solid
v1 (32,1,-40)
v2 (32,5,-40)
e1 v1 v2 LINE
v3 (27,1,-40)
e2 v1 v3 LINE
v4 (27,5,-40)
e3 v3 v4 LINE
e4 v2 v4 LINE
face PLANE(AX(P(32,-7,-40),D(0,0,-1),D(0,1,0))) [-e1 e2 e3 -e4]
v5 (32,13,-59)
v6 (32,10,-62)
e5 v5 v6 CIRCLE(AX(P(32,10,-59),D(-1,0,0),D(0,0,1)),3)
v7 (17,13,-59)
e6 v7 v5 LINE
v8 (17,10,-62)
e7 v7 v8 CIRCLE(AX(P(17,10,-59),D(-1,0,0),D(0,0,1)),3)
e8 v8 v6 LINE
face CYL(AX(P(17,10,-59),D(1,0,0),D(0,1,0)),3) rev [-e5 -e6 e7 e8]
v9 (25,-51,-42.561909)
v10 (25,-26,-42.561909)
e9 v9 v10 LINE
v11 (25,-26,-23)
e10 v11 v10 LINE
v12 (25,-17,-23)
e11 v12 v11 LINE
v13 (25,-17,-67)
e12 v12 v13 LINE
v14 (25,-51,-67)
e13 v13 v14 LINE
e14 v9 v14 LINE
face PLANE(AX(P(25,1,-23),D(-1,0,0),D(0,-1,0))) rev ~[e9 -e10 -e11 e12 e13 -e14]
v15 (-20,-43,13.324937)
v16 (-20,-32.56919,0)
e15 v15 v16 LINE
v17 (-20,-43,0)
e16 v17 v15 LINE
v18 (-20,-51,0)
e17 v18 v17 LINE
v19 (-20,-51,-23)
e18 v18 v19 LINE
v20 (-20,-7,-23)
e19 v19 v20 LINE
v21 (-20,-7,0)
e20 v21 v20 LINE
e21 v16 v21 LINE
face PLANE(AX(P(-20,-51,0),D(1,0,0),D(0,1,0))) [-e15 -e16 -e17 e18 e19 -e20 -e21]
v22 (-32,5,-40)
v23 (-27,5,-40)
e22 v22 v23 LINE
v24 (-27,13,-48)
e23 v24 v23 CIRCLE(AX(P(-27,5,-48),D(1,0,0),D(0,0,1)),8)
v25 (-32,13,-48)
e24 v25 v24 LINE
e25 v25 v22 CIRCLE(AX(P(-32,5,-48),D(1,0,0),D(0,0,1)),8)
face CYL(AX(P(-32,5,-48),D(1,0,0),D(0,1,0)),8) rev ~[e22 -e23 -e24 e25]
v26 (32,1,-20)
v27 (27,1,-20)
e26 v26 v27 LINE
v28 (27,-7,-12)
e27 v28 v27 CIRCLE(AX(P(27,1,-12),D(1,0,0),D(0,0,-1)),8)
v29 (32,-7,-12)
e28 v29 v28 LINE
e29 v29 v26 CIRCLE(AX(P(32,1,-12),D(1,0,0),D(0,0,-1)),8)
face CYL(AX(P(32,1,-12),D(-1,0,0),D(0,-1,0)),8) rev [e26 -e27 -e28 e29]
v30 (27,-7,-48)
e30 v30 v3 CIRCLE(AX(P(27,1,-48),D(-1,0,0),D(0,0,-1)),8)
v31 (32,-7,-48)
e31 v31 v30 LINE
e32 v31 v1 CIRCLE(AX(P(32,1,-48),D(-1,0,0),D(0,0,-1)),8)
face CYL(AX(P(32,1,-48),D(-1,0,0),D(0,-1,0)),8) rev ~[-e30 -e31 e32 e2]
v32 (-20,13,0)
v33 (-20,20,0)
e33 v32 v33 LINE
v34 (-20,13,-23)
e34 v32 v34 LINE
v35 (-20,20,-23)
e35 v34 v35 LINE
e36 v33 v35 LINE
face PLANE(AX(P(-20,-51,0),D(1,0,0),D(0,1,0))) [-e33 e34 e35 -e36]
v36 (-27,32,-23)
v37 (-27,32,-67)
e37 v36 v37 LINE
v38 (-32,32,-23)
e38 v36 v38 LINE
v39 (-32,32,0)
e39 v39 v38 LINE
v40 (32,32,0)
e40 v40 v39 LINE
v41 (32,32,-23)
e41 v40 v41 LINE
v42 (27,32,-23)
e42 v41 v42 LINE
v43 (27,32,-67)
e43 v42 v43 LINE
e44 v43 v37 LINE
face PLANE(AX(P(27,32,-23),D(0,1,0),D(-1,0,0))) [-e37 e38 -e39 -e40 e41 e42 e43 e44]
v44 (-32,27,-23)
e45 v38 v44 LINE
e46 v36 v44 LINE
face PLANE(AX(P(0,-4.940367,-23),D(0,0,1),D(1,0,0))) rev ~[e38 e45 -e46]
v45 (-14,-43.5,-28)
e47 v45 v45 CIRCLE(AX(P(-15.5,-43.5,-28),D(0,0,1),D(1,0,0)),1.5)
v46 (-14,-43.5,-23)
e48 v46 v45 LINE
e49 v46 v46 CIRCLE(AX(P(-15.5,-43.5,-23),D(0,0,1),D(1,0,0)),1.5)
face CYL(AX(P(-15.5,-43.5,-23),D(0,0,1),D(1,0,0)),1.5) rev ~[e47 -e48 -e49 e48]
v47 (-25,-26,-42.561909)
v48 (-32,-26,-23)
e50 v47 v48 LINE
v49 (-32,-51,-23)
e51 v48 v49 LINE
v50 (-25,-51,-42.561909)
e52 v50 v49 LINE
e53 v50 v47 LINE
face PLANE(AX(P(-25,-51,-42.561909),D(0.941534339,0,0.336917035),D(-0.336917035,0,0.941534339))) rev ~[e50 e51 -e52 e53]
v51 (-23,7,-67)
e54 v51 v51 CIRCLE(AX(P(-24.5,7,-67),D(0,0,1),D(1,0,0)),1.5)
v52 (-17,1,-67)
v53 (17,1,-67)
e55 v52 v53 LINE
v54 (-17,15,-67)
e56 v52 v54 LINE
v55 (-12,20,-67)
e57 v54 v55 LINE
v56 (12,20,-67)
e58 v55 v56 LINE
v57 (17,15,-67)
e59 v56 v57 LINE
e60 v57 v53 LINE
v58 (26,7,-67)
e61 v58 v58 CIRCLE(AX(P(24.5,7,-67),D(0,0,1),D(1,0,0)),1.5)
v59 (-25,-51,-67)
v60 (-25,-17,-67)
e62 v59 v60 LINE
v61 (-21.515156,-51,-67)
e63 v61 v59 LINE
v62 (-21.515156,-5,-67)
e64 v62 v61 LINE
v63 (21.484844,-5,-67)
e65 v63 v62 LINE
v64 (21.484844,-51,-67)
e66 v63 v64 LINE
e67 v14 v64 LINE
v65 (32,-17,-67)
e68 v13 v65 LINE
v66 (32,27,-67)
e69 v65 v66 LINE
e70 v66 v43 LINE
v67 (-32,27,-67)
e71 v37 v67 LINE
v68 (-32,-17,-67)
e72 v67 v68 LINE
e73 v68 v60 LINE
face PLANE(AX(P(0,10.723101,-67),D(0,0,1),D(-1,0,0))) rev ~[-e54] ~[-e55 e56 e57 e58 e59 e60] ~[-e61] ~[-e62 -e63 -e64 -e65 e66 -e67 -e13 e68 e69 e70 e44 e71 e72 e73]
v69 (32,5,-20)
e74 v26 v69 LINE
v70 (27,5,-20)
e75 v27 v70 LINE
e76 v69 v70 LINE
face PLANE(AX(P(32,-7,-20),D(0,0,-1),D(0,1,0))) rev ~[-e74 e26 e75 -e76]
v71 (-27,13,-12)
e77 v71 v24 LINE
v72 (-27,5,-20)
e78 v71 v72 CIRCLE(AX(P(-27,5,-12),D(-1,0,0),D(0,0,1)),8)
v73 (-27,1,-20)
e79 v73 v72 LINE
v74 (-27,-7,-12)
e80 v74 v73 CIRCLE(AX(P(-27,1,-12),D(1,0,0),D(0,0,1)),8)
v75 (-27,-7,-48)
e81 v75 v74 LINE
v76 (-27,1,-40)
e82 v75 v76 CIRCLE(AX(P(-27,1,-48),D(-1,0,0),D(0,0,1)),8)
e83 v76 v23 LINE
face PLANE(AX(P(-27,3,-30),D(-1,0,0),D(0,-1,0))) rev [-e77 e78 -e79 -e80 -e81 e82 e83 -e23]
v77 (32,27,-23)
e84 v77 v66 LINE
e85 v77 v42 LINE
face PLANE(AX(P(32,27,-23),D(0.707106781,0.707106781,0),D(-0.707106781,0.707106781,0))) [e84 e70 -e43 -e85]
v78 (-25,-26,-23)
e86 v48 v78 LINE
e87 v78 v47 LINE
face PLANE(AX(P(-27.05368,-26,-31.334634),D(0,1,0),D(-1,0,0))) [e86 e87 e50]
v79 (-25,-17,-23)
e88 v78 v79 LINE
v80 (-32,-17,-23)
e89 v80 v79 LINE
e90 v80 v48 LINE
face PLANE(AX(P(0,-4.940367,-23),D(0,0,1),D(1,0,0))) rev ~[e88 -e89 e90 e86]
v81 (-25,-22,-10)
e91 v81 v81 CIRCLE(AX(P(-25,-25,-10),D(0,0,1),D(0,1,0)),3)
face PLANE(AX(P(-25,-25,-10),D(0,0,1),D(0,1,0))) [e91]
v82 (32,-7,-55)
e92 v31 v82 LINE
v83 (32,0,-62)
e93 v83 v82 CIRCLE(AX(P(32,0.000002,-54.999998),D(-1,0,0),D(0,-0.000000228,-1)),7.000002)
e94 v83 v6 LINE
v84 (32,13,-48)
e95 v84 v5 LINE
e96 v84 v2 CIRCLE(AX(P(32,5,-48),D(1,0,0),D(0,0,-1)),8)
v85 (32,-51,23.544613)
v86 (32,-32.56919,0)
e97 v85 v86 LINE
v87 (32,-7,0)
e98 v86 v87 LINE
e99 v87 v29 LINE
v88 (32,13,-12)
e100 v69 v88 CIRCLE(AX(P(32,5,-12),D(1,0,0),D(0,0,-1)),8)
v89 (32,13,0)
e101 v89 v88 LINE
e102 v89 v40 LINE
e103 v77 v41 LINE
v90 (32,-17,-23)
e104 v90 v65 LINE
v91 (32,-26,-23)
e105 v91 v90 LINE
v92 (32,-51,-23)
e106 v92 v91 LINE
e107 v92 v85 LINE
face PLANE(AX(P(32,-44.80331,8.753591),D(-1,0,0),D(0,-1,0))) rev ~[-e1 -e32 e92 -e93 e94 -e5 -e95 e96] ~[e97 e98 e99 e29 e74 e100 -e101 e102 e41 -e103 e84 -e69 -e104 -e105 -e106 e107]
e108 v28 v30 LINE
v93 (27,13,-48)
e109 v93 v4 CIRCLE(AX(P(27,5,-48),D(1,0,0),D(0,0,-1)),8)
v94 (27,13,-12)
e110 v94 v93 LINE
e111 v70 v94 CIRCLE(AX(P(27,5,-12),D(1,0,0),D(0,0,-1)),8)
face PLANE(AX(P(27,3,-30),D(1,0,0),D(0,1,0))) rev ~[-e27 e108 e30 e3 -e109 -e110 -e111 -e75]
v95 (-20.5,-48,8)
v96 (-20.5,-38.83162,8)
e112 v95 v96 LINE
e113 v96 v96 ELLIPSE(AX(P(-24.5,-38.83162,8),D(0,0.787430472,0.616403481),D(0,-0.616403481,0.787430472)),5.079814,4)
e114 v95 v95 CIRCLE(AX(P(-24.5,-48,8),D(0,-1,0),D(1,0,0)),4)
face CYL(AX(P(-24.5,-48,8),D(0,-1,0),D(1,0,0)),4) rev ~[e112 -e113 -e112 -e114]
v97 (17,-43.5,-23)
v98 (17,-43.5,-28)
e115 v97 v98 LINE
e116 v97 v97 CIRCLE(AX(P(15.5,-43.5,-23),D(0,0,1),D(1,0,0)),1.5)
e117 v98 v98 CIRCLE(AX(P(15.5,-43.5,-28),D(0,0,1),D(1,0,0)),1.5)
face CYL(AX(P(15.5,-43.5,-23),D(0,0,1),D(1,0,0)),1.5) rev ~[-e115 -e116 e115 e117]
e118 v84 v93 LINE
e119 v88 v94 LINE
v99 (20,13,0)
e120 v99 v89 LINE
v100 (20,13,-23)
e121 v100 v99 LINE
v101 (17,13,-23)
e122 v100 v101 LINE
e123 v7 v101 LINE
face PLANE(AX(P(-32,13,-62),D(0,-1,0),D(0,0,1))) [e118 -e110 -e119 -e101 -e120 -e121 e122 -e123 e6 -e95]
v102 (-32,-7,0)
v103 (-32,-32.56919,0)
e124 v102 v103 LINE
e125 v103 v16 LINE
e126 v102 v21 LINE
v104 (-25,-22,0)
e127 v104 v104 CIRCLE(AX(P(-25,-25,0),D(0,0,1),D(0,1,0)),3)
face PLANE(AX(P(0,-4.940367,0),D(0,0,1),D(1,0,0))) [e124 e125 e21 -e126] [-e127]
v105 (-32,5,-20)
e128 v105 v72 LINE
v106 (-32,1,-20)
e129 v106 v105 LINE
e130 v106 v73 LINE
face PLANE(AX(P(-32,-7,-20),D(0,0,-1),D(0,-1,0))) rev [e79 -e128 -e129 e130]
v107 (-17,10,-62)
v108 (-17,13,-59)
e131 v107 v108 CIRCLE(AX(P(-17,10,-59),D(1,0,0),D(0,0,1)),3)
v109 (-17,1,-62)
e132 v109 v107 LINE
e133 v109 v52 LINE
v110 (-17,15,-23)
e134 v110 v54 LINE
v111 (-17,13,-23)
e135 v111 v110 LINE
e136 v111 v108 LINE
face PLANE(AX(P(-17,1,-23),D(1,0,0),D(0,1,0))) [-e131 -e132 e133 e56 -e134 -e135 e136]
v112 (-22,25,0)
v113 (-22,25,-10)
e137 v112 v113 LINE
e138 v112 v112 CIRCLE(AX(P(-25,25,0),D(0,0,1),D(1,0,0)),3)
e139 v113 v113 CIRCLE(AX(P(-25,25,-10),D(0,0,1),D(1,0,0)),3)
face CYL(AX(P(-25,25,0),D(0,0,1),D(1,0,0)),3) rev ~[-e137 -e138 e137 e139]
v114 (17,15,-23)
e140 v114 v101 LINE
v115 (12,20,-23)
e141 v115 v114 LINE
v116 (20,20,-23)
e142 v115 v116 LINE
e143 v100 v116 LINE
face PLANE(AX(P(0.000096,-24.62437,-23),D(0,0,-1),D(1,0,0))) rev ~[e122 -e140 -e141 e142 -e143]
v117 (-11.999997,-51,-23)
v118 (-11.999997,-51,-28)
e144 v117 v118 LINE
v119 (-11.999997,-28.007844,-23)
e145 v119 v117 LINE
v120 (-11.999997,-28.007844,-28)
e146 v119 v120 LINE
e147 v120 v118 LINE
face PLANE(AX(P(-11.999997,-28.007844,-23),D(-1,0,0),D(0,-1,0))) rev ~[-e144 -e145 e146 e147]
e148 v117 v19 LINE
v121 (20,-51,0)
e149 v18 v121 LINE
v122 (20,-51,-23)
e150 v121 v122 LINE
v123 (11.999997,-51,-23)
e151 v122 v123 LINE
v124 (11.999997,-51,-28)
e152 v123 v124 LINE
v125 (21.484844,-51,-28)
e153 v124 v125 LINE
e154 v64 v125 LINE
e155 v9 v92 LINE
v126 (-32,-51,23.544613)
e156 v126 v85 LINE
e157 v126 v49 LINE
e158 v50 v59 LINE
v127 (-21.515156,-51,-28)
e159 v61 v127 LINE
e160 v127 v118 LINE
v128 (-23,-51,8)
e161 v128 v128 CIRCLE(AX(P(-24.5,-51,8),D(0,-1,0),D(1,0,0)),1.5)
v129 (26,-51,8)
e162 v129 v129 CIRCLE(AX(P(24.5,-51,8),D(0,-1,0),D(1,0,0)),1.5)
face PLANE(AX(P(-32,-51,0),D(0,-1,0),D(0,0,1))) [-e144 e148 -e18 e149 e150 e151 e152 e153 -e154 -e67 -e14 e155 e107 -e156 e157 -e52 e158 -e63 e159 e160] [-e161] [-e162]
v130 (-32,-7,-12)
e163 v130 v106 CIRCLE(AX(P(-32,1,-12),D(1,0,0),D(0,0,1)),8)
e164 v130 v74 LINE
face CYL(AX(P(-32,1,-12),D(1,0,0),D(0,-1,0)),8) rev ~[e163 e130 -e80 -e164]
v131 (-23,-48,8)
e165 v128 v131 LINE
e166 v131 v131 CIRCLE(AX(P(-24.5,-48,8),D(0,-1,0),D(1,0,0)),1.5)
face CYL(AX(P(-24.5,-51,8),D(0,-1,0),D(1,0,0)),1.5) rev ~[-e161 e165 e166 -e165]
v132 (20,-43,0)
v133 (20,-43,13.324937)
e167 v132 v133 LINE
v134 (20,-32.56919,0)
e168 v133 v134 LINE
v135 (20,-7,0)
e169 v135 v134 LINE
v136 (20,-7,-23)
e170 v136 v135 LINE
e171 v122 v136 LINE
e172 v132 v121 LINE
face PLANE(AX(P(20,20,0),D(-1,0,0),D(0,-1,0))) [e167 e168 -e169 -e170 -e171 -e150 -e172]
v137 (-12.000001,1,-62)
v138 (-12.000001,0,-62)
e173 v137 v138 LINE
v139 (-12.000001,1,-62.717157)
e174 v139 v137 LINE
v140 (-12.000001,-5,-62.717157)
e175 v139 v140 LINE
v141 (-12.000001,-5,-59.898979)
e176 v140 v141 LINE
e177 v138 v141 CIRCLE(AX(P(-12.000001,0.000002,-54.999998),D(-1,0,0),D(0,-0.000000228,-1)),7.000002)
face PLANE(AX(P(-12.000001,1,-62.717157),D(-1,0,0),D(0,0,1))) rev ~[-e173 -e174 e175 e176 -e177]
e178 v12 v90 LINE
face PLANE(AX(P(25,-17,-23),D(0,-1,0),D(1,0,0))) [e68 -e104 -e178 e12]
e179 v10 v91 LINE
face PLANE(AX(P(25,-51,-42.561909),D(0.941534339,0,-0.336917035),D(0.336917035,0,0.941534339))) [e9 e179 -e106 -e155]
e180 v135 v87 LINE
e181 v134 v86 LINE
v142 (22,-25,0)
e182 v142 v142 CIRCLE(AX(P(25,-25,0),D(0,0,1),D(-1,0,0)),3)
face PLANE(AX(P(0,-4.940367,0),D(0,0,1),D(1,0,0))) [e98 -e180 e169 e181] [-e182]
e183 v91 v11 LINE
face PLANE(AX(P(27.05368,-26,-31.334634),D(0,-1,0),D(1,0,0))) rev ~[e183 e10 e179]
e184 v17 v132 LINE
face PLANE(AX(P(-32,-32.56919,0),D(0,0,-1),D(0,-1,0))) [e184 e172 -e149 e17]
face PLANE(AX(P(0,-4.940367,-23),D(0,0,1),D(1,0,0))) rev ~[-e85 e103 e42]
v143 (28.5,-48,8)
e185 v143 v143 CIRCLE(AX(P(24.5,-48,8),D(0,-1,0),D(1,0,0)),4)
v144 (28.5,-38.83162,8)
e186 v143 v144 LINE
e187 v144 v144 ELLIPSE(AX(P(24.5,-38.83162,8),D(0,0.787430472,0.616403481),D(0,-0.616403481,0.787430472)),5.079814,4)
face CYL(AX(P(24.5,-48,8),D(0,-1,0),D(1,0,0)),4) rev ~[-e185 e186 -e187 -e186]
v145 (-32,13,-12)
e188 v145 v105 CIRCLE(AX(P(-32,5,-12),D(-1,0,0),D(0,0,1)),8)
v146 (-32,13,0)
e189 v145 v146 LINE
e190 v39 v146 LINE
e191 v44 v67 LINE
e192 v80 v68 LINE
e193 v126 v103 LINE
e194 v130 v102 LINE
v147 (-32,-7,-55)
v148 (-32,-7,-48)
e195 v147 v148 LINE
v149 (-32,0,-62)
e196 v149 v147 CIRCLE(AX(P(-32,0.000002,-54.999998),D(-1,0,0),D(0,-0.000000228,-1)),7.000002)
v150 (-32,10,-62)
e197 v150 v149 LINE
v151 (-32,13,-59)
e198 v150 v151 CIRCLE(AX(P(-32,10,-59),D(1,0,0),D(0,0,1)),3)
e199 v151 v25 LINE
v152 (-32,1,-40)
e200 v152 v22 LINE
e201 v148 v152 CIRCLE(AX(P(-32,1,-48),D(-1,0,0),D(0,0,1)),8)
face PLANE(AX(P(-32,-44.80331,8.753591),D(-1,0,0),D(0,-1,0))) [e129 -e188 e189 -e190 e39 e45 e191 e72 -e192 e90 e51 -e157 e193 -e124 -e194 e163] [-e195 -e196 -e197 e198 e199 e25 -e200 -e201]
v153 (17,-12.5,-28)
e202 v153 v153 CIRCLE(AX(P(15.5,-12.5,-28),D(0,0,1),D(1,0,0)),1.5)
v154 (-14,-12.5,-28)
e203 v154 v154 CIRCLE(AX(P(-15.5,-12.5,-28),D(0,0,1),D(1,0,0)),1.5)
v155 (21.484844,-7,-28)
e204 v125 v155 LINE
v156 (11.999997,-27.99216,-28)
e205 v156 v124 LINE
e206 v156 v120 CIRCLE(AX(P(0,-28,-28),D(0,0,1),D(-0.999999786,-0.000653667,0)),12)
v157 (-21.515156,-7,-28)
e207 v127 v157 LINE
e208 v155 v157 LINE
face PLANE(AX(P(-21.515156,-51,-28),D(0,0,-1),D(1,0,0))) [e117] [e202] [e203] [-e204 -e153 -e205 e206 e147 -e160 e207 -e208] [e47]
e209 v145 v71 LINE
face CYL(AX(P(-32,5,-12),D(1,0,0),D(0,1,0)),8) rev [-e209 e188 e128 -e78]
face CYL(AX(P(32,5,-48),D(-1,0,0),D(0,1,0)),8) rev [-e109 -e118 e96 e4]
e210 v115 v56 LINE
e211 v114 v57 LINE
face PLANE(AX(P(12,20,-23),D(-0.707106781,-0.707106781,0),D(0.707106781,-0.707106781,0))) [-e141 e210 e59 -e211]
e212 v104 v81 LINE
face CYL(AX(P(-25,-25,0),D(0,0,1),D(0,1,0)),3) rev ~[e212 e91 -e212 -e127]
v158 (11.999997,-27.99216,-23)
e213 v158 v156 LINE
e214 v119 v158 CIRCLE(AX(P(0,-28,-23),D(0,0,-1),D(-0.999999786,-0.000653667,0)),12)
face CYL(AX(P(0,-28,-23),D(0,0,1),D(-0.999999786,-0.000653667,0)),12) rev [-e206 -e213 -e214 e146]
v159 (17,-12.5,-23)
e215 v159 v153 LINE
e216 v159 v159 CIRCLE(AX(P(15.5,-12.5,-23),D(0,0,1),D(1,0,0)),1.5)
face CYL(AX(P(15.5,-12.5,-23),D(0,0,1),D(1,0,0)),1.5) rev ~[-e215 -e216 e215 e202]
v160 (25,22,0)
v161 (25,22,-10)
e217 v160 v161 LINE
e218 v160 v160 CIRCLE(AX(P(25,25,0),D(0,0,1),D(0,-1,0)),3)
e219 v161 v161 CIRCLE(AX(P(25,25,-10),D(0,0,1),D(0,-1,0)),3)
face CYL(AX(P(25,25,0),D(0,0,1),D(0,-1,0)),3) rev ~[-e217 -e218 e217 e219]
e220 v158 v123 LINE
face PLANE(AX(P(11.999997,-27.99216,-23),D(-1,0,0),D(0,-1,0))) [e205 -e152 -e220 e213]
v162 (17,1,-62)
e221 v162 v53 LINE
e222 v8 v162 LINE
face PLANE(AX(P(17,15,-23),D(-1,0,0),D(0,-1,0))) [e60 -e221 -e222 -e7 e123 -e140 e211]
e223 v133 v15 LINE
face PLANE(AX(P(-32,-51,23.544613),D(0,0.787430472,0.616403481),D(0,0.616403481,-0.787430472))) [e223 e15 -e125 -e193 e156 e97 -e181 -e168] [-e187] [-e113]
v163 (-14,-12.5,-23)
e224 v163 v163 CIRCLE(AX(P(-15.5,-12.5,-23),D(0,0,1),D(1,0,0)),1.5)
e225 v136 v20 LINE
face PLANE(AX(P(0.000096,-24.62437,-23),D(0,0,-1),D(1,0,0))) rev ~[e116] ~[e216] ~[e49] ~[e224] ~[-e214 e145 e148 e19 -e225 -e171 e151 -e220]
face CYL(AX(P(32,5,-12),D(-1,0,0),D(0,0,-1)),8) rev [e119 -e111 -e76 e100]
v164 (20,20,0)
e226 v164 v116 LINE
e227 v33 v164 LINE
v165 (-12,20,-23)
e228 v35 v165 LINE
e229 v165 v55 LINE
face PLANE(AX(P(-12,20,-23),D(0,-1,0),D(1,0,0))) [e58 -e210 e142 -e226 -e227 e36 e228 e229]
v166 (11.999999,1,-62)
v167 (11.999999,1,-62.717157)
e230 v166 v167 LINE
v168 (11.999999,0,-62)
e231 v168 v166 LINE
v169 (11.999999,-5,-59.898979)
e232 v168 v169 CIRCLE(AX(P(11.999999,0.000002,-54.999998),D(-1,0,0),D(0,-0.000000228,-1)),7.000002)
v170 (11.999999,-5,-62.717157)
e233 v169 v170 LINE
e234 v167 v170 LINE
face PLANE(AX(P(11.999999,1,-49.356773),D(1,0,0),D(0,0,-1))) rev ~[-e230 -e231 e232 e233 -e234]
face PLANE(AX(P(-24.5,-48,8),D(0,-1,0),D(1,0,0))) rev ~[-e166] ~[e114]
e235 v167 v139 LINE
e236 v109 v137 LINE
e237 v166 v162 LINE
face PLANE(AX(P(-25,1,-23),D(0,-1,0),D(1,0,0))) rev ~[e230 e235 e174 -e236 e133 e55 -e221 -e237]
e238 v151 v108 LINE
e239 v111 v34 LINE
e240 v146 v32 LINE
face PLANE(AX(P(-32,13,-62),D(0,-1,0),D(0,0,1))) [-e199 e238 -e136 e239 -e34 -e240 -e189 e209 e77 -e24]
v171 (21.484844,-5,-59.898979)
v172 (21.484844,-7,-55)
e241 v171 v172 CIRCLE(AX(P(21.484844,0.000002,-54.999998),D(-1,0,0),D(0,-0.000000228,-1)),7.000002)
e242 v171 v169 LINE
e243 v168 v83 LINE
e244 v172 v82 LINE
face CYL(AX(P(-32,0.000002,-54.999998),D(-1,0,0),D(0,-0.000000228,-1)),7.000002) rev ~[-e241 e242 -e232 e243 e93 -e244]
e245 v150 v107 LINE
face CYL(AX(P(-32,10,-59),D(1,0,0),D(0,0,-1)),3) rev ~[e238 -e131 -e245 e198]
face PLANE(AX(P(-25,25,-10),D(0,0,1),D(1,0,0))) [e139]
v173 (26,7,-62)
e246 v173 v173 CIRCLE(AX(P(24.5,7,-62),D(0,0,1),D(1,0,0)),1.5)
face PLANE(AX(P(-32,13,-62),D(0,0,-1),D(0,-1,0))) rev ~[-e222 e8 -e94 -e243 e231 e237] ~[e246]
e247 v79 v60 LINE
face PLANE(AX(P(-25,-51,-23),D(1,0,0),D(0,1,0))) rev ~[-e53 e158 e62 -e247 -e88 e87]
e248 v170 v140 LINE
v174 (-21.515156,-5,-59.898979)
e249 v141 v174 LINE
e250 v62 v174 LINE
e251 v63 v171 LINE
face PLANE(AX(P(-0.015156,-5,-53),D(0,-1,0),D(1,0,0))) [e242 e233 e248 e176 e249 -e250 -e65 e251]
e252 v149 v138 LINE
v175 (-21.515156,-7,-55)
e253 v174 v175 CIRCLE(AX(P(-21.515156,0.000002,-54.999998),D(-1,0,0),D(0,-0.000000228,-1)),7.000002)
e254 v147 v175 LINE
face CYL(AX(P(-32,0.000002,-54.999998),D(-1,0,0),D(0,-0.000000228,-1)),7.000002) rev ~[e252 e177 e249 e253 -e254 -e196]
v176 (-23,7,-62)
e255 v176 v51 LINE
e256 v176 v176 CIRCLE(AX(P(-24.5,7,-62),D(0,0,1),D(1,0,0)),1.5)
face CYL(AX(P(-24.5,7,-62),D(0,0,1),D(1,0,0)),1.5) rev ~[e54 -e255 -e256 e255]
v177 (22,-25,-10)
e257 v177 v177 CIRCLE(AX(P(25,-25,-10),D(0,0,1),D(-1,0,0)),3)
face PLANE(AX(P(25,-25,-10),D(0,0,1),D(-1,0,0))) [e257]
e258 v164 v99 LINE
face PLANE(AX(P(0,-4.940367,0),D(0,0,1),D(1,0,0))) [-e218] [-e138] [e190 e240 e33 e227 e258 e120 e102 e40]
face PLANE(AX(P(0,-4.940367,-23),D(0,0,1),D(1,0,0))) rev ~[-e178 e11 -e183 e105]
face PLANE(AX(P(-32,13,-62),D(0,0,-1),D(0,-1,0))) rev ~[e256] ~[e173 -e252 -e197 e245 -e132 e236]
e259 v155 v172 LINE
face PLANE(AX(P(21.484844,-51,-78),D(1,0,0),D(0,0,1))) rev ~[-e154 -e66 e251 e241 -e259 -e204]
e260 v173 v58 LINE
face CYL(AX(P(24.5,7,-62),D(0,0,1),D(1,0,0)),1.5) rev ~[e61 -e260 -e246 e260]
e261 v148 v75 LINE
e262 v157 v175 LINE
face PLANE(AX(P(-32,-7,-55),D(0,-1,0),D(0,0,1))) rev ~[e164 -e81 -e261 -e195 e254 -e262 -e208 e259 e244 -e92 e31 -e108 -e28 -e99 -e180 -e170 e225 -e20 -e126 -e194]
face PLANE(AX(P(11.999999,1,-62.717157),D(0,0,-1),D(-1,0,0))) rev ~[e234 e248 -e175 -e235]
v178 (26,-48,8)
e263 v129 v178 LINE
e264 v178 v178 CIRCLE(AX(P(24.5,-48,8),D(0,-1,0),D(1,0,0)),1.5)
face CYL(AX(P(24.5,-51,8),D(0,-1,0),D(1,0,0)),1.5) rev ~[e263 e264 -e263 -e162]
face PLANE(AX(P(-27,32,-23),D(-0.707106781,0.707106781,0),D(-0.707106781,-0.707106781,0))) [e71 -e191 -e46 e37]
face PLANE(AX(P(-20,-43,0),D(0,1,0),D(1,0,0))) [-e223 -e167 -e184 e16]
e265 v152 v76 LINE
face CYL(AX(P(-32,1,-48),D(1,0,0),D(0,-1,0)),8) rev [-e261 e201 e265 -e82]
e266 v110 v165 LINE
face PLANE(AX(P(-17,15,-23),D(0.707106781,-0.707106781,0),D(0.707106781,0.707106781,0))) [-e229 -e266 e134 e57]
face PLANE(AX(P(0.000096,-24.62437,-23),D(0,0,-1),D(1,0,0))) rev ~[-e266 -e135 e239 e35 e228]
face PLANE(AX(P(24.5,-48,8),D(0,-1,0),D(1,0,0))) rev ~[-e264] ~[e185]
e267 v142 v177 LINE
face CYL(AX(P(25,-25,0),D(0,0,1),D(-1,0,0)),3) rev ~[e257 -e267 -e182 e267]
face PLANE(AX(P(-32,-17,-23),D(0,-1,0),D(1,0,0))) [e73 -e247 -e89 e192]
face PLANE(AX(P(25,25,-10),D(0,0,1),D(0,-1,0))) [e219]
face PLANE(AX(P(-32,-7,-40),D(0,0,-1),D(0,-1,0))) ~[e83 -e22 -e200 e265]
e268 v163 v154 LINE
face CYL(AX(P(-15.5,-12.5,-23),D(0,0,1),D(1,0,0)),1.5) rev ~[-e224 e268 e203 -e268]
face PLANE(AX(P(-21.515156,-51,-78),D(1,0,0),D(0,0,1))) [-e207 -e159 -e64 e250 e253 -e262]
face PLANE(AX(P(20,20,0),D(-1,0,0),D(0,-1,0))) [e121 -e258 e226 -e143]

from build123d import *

# Parameters (mm, degrees)
PAD009_DEPTH          = 23
PAD010_DEPTH          = 44
SKETCH024_W           = 43
SKETCH024_H           = 50
POCKET012_DEPTH       = 46
PAD011_DEPTH          = 25
SKETCH026_R           = 1.5
POCKET013_DEPTH       = 44.001
SKETCH027_R           = 3
POCKET014_DEPTH       = 10
POLARPATTERN001_COUNT = 4
POCKET011_DEPTH       = 6
PAD008_DEPTH          = 44
POCKET015_DEPTH       = 64.001
PAD013_DEPTH          = 64
SKETCH032_W           = 40
SKETCH032_H           = 10.43081
POCKET016_DEPTH       = 23.545613
SKETCH033_R           = 1.5
POCKET017_DEPTH       = 83.001
SKETCH034_R           = 4
POCKET018_DEPTH       = 80.001
SKETCH036_R           = 1.5
POCKET019_DEPTH       = 5
SKETCH037_R           = 3
POCKET020_DEPTH       = 10
SKETCH052_W           = 20
SKETCH052_H           = 20
PAD024_DEPTH          = 5
FILLET_R              = 8
FILLET001_R           = 3


with BuildPart() as part:
    # Sketch022 → Pad009 (new body)
    with BuildSketch(Plane.XY):
        Polygon((32, -51), (32, 32), (-32, 32), (-32, -51), (-20, -51), (-20, 20), (20, 20), (20, -51), align=None)
    extrude(amount=-PAD009_DEPTH)

    # Sketch023 (on Face10 of Pad009) → Pad010 (join)
    with BuildSketch(Plane(origin=(0, 0, -23), x_dir=(1, 0, 0), z_dir=(0, 0, -1))):
        with BuildLine():
            Line((-25, 51), (-25, -1))
            Line((-25, -1), (25, -1))
            Line((25, -1), (25, 51))
            Line((25, 51), (11.999997, 51))
            Line((11.999997, 27.99216), (11.999997, 51))
            ThreePointArc((-11.999997, 28.007844), (-0.007842, 16.000003), (11.999997, 27.99216))
            Line((-11.999997, 28.007844), (-11.999997, 51))
            Line((-11.999997, 51), (-25, 51))
        make_face()
    extrude(amount=PAD010_DEPTH)

    # Sketch024 (on Face18 of Pad010) → Pocket012 (cut)
    with BuildSketch(Plane.XZ.offset(51)):
        with Locations((-0.015156, -53)):
            Rectangle(SKETCH024_W, SKETCH024_H)
    extrude(amount=-POCKET012_DEPTH, mode=Mode.SUBTRACT)

    # Sketch025 (on Face14 of Pocket012) → Pad011 (join)
    with BuildSketch(Plane.XZ.offset(51)):
        Polygon((-32, -23), (-25, -23), (-25, -42.561909), align=None)
        Polygon((32, -23), (25, -23), (25, -42.561909), align=None)
    extrude(amount=-PAD011_DEPTH)

    # Sketch026 (on Face11 of Pad011) → Pocket013 (cut, through all)
    with BuildSketch(Plane.XY.offset(-23)):
        with Locations((-15.5, -12.5)):
            Circle(SKETCH026_R)
        with Locations((-15.5, -43.5)):
            Circle(SKETCH026_R)
        with Locations((15.5, -43.5)):
            Circle(SKETCH026_R)
        with Locations((15.5, -12.5)):
            Circle(SKETCH026_R)
    extrude(amount=-POCKET013_DEPTH, mode=Mode.SUBTRACT)

    # Sketch027 (on Face4 of Pocket013) → Pocket014 (cut)
    with BuildSketch(Plane.XY):
        with Locations((-25, 25)):
            Circle(SKETCH027_R)
    pocket014 = extrude(amount=-POCKET014_DEPTH, mode=Mode.SUBTRACT)

    # PolarPattern001: Pocket014 ×4 about axis
    polarpattern001_axis = Axis((0, 0, 0), (0, 0, 1))
    for i in range(1, POLARPATTERN001_COUNT):
        add(pocket014.rotate(polarpattern001_axis, i * 360 / POLARPATTERN001_COUNT), mode=Mode.SUBTRACT)

    # Sketch028 (on Face23 of PolarPattern001) → Pocket011 (cut)
    with BuildSketch(Plane(origin=(0, 1, 0), x_dir=(-1, 0, 0), z_dir=(0, 1, 0))):
        with BuildLine():
            Line((-11.999999, -62.717157), (12.000001, -62.717157))
            Line((12.000001, -62.717157), (12.000001, -49.356773))
            ThreePointArc((12.000001, -49.356773), (1e-06, -37.356773), (-11.999999, -49.356773))
            Line((-11.999999, -49.356773), (-11.999999, -62.717157))
        make_face()
    extrude(amount=-POCKET011_DEPTH, mode=Mode.SUBTRACT)

    # Sketch021 (on Face6 of Pocket011) → Pad008 (join)
    with BuildSketch(Plane(origin=(0, 0, -23), x_dir=(1, 0, 0), z_dir=(0, 0, -1))):
        Polygon((-32, 17), (-25, 17), (-25, 7), (-17, -1), (-17, -15), (-12, -20), (12, -20), (17, -15), (17, -1), (25, 7), (25, 17), (32, 17), (32, -27), (27, -32), (-27, -32), (-32, -27), align=None)
    extrude(amount=PAD008_DEPTH)

    # Sketch029 (on Face52 of Pad008) → Pocket015 (cut, through all)
    with BuildSketch(Plane(origin=(-32, 0, 0), x_dir=(0, -1, 0), z_dir=(-1, 0, 0))):
        with BuildLine():
            Line((7, 0), (-13, 0))
            Line((-13, -62), (-13, 0))
            Line((-13, -62), (0, -62))
            ThreePointArc((0, -62), (4.949747, -59.949747), (7, -55))
            Line((7, -55), (7, 0))
        make_face()
    extrude(amount=-POCKET015_DEPTH, mode=Mode.SUBTRACT)

    # Sketch031 (on Face10 of Pocket015) → Pad013 (join)
    with BuildSketch(Plane(origin=(-32, 0, 0), x_dir=(0, -1, 0), z_dir=(-1, 0, 0))):
        Polygon((51, 0), (51, 23.544613), (32.56919, 0), align=None)
    extrude(amount=-PAD013_DEPTH)

    # Sketch032 (on Face54 of Pad013) → Pocket016 (cut, through all)
    with BuildSketch(Plane(origin=(0, 0, 0), x_dir=(1, 0, 0), z_dir=(0, 0, -1))):
        with Locations((0, 37.784595)):
            Rectangle(SKETCH032_W, SKETCH032_H)
    extrude(amount=-POCKET016_DEPTH, mode=Mode.SUBTRACT)

    # Sketch033 (on Face19 of Pocket016) → Pocket017 (cut, through all)
    with BuildSketch(Plane.XZ.offset(51)):
        with Locations((-24.5, 8)):
            Circle(SKETCH033_R)
        with Locations((24.5, 8)):
            Circle(SKETCH033_R)
    extrude(amount=-POCKET017_DEPTH, mode=Mode.SUBTRACT)

    # Sketch034 (on Face19 of Pocket017) → Pocket018 (cut, through all)
    with BuildSketch(Plane.XZ.offset(48)):
        with Locations((-24.5, 8)):
            Circle(SKETCH034_R)
        with Locations((24.5, 8)):
            Circle(SKETCH034_R)
    extrude(amount=-POCKET018_DEPTH, mode=Mode.SUBTRACT)

    # Sketch036 (on Face6 of Pocket018) → Pocket019 (cut)
    with BuildSketch(Plane.XY.offset(-62)):
        with Locations((24.5, 7)):
            Circle(SKETCH036_R)
        with Locations((-24.5, 7)):
            Circle(SKETCH036_R)
    extrude(amount=-POCKET019_DEPTH, mode=Mode.SUBTRACT)

    # Sketch037 (on Face43 of Pocket019) → Pocket020 (cut)
    with BuildSketch(Plane.XY):
        with Locations((-24.5, 7)):
            Circle(SKETCH037_R)
        with Locations((24.5, 7)):
            Circle(SKETCH037_R)
    extrude(amount=-POCKET020_DEPTH, mode=Mode.SUBTRACT)

    # Sketch052 (on Face17 of Pocket020) → Pad024 (join)
    with BuildSketch(Plane.YZ.offset(32)):
        with Locations((3, -30)):
            Rectangle(SKETCH052_W, SKETCH052_H)
    pad024 = extrude(amount=-PAD024_DEPTH)

    # Mirrored002: Pad024 across YZ
    add(pad024.mirror(Plane.YZ))

    # Fillet
    fillet_edges = [part.edges().sort_by_distance(p)[0] for p in [
        (29.5, -7, -20),
        (29.5, 13, -20),
        (29.5, 13, -40),
        (29.5, -7, -40),
        (-29.5, -7, -20),
        (-29.5, 13, -20),
        (-29.5, -7, -40),
        (-29.5, 13, -40),
    ]]
    fillet(fillet_edges, radius=FILLET_R)

    # Fillet001
    fillet001_edges = [part.edges().sort_by_distance(p)[0] for p in [
        (24.5, 13, -62),
        (-24.5, 13, -62),
    ]]
    fillet(fillet001_edges, radius=FILLET001_R)


solid = part.part
